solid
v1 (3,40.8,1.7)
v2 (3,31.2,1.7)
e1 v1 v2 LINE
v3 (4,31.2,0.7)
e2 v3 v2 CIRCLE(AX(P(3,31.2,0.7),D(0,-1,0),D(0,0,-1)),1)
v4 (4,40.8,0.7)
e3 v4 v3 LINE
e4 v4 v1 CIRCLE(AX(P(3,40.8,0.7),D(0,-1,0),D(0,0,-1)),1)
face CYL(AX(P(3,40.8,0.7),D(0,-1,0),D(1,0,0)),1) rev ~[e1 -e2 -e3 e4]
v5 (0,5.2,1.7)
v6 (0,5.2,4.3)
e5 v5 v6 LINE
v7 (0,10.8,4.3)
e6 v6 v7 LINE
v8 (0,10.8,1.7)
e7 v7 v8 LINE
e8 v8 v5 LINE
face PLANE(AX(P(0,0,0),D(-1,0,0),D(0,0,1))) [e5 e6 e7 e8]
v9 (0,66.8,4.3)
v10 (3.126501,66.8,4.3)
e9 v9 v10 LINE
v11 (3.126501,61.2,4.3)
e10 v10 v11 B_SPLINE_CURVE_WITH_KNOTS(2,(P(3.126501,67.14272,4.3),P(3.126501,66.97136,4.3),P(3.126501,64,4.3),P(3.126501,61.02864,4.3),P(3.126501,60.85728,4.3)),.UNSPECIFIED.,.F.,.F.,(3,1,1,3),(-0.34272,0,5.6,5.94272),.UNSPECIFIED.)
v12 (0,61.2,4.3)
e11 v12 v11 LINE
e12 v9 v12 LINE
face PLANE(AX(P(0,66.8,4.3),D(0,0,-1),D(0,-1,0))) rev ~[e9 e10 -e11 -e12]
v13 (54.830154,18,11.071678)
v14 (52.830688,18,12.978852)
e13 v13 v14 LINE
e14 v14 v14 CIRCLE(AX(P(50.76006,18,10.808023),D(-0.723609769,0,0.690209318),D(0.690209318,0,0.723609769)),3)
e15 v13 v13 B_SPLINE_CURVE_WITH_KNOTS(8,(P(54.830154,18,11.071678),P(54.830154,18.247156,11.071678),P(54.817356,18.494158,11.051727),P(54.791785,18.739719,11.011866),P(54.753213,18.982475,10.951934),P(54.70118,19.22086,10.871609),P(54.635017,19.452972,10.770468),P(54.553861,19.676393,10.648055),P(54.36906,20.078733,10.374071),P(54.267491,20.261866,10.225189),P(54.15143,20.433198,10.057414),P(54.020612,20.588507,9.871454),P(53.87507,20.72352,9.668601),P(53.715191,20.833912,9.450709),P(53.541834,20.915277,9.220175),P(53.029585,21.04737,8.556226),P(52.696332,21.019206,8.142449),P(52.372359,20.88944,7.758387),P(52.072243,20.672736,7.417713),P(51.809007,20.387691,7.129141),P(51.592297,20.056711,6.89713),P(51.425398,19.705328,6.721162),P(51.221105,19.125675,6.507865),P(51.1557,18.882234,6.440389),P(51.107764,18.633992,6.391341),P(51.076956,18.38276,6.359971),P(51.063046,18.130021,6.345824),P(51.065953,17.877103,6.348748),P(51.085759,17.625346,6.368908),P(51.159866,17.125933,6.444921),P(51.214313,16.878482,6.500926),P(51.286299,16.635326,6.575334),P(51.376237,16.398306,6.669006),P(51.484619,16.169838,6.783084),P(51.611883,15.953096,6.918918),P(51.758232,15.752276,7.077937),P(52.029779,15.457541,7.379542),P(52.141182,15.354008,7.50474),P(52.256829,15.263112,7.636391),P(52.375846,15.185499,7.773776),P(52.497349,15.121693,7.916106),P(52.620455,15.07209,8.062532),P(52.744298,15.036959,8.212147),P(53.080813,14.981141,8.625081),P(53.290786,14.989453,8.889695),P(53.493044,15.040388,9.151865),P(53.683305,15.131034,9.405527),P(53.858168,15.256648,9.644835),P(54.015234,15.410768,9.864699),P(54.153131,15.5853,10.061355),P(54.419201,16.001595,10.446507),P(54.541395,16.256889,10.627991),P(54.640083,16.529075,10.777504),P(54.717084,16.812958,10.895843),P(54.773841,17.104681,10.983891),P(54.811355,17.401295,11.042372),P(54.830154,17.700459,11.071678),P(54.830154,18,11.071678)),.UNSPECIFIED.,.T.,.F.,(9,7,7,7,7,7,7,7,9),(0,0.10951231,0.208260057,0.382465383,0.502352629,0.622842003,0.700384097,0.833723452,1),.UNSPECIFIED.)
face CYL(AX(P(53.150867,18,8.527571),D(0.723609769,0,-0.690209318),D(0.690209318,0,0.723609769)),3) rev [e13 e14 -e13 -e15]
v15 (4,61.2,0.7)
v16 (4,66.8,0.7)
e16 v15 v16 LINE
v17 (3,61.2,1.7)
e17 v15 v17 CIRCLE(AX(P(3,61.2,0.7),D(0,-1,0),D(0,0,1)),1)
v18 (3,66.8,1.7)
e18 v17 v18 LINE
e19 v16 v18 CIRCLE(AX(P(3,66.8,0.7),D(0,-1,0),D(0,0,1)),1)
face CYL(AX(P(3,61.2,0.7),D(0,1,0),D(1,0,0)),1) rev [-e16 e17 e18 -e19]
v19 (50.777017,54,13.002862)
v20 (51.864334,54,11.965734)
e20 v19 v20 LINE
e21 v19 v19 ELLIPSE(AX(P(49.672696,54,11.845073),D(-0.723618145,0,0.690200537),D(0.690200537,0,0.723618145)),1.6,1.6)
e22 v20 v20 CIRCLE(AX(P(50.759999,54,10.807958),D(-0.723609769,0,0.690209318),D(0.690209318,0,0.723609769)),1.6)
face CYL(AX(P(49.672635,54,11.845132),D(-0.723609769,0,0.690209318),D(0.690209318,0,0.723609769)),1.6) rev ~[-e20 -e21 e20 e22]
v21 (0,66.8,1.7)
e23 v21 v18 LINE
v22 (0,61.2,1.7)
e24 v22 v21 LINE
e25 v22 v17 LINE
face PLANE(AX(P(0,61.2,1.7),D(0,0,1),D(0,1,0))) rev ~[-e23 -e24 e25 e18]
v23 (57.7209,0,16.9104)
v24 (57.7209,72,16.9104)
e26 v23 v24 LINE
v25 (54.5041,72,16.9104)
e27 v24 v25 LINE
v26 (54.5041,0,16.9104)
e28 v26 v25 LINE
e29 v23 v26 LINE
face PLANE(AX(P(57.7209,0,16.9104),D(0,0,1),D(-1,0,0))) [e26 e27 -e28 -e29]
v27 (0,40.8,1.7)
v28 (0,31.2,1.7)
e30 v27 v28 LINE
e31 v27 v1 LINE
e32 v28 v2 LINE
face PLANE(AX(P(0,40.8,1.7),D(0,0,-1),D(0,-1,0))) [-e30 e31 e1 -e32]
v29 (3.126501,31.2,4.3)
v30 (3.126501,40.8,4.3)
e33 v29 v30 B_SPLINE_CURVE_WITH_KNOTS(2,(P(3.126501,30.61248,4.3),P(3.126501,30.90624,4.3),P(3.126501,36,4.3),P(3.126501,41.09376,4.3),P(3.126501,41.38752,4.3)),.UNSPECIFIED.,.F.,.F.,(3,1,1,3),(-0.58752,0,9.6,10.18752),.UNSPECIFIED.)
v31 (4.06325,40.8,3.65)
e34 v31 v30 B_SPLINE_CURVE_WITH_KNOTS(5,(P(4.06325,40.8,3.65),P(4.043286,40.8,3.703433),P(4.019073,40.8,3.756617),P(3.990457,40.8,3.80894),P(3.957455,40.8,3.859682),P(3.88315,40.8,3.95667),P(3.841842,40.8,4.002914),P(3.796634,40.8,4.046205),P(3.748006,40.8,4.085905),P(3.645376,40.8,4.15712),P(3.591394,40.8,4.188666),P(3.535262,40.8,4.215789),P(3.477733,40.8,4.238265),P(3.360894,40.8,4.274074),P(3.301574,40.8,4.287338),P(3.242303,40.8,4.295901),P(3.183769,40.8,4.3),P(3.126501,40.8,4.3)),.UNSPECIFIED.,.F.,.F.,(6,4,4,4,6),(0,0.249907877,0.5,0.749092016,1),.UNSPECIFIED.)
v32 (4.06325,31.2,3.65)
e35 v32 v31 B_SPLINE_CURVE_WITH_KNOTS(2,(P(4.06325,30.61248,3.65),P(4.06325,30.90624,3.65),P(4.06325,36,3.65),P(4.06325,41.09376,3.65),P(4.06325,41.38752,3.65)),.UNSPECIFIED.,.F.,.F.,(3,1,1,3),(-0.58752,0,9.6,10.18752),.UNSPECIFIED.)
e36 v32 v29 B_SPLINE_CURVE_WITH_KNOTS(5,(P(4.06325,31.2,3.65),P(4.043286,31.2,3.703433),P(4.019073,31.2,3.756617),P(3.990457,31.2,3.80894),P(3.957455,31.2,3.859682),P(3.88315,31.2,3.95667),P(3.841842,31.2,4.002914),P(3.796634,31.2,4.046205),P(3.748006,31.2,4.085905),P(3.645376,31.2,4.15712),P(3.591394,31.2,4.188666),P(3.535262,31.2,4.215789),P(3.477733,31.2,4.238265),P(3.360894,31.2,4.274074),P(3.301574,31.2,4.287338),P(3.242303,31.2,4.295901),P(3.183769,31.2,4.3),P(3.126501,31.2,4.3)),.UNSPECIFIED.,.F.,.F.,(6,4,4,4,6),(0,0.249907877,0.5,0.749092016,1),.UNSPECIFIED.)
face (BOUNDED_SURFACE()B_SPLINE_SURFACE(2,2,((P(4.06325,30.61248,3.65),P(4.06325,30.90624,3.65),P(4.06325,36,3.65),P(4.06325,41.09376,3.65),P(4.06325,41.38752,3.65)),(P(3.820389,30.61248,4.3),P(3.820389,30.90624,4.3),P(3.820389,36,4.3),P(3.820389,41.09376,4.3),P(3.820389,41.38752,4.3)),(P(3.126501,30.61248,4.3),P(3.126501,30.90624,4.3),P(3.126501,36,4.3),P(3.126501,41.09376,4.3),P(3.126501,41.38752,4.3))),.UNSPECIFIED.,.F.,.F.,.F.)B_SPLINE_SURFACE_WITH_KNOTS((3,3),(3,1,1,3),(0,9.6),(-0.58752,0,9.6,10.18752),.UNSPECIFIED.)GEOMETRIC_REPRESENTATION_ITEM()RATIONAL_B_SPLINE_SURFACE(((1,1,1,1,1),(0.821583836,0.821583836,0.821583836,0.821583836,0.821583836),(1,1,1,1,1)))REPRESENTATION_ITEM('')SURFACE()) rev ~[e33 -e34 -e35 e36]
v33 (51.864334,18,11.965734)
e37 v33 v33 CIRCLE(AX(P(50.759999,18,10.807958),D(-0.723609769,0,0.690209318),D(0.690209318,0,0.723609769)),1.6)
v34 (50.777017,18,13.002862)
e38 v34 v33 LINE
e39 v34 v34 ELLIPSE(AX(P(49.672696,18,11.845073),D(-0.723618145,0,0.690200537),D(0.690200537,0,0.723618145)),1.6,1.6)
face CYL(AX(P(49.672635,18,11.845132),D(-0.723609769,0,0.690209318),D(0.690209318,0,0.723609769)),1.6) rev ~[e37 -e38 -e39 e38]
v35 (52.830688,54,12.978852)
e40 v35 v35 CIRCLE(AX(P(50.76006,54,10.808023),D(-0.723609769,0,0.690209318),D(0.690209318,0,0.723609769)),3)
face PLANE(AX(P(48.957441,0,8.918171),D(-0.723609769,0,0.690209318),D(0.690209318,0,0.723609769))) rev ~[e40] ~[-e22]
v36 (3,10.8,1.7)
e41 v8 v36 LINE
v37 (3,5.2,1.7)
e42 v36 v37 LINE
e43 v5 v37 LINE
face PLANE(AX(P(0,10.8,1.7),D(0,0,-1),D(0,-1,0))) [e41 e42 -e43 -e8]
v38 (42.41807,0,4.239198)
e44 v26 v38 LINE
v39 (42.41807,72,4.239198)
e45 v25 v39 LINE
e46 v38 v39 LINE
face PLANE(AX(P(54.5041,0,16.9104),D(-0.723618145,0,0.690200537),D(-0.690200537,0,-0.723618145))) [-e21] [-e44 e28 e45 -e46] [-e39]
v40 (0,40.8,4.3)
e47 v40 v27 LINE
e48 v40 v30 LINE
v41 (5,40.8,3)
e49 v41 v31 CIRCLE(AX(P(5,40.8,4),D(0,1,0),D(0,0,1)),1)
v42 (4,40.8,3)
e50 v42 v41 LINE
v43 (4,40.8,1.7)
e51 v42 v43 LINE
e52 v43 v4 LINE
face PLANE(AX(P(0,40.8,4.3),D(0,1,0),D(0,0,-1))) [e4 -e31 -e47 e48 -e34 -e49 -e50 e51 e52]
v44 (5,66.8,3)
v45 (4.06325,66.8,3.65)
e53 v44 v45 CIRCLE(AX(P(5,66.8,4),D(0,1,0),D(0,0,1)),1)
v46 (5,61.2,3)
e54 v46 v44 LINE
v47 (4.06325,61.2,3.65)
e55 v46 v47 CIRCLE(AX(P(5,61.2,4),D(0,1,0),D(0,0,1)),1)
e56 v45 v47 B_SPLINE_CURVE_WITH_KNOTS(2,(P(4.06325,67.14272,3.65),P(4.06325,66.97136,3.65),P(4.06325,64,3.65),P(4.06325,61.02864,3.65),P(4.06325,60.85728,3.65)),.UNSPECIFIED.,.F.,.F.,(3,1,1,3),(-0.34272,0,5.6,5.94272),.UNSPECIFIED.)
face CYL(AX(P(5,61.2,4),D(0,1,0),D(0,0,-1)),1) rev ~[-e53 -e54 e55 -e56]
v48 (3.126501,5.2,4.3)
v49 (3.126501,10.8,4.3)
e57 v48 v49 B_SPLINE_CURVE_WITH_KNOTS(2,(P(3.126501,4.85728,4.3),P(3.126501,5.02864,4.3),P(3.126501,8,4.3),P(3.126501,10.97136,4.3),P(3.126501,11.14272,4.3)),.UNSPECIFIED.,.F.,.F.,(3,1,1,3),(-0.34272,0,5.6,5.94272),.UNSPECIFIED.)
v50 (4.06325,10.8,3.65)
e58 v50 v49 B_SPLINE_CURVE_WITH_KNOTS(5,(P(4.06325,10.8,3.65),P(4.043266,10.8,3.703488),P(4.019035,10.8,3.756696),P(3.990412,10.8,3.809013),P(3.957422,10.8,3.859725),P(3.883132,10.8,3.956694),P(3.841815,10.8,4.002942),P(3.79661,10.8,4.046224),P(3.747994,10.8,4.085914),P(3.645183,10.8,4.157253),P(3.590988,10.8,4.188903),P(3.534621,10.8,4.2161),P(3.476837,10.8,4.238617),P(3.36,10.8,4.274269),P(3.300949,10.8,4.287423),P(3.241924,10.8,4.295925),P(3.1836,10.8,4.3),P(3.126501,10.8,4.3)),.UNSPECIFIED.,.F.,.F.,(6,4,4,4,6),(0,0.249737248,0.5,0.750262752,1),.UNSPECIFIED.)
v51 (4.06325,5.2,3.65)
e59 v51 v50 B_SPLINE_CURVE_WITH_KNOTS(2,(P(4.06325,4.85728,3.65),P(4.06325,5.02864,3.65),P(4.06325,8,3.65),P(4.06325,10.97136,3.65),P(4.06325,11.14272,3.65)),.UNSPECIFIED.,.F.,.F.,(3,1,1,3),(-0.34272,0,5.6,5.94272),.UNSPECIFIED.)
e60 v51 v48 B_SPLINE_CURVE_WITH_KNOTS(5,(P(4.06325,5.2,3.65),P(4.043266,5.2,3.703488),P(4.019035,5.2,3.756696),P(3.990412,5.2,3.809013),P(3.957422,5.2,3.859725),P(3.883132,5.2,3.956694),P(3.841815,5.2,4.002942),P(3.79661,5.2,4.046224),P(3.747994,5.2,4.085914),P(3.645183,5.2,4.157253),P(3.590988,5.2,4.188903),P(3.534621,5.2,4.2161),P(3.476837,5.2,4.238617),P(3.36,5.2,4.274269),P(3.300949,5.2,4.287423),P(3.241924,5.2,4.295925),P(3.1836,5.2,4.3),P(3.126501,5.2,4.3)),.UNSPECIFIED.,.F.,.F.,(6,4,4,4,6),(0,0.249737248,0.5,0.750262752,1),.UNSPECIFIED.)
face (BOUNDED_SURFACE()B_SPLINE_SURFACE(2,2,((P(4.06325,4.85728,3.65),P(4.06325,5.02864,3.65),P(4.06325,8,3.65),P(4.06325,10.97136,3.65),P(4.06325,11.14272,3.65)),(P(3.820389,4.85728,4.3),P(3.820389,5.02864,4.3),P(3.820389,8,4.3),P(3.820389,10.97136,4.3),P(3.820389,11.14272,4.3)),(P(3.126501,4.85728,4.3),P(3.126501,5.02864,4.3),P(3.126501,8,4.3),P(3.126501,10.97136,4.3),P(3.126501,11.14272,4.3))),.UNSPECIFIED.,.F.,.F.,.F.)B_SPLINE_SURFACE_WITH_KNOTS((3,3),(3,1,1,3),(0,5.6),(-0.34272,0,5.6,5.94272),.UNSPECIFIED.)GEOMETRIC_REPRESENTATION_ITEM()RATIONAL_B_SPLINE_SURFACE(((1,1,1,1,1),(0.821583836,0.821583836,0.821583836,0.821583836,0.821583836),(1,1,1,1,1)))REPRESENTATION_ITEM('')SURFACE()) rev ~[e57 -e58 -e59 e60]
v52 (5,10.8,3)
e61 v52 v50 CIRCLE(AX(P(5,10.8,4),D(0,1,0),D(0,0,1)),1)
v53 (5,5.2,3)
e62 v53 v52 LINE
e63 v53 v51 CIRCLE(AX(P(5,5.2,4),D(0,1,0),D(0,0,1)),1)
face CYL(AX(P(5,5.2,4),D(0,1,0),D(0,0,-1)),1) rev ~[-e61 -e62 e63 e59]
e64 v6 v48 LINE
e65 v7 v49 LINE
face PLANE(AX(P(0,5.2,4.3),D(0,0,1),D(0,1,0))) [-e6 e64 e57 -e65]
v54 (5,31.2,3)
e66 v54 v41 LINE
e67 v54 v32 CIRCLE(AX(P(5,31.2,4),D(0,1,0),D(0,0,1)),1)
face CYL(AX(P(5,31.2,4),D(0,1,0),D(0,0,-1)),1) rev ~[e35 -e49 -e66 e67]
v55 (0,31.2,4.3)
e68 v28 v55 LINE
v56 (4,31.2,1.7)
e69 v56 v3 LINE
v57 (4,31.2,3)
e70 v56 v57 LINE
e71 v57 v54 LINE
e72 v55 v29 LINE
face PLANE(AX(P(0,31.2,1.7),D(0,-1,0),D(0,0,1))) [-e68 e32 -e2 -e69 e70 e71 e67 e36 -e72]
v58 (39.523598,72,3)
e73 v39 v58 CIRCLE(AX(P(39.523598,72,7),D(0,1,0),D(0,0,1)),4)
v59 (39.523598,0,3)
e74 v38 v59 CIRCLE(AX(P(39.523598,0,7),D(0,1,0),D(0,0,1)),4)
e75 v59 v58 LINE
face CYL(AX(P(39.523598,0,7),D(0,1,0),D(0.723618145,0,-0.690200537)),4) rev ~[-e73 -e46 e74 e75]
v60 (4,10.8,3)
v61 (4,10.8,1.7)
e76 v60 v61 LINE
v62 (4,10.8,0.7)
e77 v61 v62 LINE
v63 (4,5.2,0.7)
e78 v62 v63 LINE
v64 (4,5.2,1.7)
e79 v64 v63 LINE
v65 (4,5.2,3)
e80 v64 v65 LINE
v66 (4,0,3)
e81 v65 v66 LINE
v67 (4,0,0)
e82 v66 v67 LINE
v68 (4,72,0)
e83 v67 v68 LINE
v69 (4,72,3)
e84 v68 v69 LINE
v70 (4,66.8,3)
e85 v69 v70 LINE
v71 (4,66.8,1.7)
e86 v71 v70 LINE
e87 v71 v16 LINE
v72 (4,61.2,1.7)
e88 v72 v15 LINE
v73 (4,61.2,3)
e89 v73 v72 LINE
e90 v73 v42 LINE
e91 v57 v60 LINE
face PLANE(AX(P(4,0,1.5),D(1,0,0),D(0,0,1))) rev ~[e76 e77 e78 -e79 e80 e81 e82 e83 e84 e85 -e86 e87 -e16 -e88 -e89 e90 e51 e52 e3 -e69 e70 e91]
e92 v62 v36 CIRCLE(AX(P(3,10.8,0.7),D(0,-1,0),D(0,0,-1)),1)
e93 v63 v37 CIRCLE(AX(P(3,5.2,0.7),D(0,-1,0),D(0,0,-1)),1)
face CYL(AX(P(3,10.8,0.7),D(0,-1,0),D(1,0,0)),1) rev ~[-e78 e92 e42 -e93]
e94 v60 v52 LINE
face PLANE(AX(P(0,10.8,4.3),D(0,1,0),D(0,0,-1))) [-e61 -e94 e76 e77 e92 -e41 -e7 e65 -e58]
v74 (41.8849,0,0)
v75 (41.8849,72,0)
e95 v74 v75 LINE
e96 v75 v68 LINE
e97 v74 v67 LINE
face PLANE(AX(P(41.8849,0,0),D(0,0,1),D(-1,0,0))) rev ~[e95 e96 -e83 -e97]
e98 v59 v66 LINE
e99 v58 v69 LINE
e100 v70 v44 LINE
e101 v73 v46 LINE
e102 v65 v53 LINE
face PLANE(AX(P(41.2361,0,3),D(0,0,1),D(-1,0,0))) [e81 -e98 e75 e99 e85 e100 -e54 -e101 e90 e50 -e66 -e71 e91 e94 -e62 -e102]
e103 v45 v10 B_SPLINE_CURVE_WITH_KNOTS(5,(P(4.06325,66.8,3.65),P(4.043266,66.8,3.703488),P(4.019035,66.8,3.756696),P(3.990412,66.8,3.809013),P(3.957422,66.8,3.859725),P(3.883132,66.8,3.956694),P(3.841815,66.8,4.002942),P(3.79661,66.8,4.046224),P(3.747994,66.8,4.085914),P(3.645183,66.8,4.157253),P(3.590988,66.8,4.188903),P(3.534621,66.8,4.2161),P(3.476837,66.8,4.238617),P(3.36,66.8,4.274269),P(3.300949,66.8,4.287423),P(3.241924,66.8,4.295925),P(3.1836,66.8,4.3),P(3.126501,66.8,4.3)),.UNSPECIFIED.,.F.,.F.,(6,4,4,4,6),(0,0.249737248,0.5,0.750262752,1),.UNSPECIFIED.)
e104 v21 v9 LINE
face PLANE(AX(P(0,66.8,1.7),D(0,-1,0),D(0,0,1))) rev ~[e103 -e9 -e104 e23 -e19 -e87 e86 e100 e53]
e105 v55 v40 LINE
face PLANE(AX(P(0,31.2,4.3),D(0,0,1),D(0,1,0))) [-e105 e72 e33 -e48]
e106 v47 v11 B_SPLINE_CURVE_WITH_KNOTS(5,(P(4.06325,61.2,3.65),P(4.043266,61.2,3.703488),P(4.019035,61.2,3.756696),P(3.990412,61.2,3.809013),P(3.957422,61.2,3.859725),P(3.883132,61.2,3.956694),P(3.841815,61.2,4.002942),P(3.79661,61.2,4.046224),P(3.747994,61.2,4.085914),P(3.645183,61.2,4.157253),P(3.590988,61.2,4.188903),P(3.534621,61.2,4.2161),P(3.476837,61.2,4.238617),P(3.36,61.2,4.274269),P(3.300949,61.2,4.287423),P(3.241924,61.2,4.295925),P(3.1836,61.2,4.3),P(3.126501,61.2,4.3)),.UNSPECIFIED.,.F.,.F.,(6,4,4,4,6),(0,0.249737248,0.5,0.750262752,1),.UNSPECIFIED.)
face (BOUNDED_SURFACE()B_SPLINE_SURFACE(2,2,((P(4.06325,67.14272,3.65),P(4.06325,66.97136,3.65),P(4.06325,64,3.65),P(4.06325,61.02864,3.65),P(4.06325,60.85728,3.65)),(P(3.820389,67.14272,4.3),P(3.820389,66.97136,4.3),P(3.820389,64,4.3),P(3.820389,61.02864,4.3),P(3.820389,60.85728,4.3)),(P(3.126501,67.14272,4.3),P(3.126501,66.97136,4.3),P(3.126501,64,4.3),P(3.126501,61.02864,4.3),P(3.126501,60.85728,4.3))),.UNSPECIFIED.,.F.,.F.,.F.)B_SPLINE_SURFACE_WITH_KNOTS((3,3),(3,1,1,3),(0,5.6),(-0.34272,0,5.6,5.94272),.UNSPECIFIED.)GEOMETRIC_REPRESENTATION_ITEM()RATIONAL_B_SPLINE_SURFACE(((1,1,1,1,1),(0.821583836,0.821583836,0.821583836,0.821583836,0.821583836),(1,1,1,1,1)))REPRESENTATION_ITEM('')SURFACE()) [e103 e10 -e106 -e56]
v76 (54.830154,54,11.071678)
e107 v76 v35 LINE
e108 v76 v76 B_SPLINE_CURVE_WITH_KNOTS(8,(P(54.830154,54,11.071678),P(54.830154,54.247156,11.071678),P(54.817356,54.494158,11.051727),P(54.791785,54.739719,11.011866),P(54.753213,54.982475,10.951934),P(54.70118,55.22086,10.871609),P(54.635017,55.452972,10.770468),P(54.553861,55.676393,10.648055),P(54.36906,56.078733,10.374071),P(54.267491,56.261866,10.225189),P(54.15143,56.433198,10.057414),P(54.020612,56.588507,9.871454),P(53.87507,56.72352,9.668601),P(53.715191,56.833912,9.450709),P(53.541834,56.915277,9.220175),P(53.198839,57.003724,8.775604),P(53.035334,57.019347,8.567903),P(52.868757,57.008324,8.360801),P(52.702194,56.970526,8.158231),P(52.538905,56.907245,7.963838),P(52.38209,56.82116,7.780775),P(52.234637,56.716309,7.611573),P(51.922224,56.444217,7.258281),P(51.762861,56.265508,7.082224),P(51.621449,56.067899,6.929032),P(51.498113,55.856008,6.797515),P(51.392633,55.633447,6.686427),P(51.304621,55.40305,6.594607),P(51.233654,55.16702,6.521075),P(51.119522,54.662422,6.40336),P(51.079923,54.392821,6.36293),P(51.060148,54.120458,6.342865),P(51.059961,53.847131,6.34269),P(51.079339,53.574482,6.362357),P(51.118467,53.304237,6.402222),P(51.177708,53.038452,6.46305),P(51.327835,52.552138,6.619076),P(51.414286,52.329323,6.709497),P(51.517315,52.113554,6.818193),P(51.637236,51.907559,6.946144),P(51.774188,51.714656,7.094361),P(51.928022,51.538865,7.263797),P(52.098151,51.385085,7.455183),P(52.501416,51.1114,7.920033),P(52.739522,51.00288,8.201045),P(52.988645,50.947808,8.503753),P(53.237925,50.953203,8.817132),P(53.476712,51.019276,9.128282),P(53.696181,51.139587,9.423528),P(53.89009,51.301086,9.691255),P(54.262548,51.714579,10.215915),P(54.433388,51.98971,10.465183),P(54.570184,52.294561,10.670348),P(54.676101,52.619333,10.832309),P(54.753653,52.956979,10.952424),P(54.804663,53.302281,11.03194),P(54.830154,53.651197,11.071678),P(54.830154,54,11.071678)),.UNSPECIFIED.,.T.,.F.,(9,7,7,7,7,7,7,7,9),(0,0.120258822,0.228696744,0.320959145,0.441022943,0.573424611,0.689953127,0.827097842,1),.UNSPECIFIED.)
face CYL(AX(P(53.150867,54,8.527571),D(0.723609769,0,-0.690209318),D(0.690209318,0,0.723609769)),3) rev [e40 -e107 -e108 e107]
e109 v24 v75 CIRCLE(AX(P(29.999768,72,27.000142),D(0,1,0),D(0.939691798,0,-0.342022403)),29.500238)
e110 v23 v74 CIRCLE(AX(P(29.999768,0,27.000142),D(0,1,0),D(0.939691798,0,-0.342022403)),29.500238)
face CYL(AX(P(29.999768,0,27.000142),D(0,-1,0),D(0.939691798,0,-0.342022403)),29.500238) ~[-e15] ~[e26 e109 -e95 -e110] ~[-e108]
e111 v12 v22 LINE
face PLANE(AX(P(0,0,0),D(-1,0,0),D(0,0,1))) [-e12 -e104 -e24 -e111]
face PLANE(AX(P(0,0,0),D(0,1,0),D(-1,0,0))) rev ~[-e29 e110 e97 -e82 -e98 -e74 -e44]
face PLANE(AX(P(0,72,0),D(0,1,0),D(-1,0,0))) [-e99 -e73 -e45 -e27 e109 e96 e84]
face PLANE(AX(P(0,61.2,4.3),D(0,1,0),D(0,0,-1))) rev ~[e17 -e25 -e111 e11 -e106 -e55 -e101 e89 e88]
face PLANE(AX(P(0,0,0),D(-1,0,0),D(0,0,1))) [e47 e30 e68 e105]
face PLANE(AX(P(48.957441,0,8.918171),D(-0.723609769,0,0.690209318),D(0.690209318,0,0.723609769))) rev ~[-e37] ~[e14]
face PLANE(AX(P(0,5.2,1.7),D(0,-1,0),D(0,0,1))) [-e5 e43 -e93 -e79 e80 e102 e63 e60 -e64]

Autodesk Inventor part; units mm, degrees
ref_plane "YZ Plane" through (0, 0, 0) normal (1, 0, 0) x (0, 1, 0)
ref_plane "XZ Plane" through (0, 0, 0) normal (0, 1, 0) x (-1, 0, 0)
sketch "Szkic1" plane through (0, 0, 0) normal (0, 1, 0) x (-1, 0, 0)
  arc A0 (-57.7209, 16.9104) -> (-41.8849, 0) centre (-30, 27) ccw
  line L0 (-41.8849, 0) -> (-4, 0)
  line L1 (-4, 0) -> (-4, 3)
  line L2 (-57.7209, 16.9104) -> (-54.5041, 16.9104)
  line L3 (-54.5041, 16.9104) -> (-41.2361, 3)
  line L4 (-41.2361, 3) -> (-4, 3)
  line L5 (-4, 1.5) -> (-4, 3)
  dimension "d3" = 27
  dimension "d4" = 29.5
  dimension "d8" = 37.8849
  dimension "d9" = 37.2361
  dimension "d10" = 19.2234
extrude "Wyciągnięcie proste1" add sketch "Szkic1" along normal blind 72
sketch "Szkic3" plane through (4, 0, 0) normal (-1, 0, 0) x (0, 0, 1)
  line L0 (0, 0) -> (3, 0) projected
  line L1 (3, 0) -> (3, 72) projected
  line L2 (0, 72) -> (3, 72) projected
  line L3 (0, 0) -> (0, 72) projected
  line L4 (1.5, 5) -> (4.5, 5)
  line L5 (4.5, 5) -> (4.5, 11)
  line L6 (4.5, 11) -> (1.5, 11)
  line L7 (1.5, 11) -> (1.5, 5)
  line L8 (0, 0) -> (0, 72) projected
  line L9 (0, 36) -> (-11, 36)
  line L10 (1.5, 31) -> (4.5, 31)
  line L11 (4.5, 31) -> (4.5, 41)
  line L12 (4.5, 41) -> (1.5, 41)
  line L13 (1.5, 41) -> (1.5, 31)
  line L14 (1.5, 67) -> (4.5, 67)
  line L15 (4.5, 67) -> (4.5, 61)
  line L16 (4.5, 61) -> (1.5, 61)
  line L17 (1.5, 61) -> (1.5, 67)
  point P0 (1.5, 36)
  point P1 (0, 36)
  dimension "d15" = 3
  dimension "d16" = 6
  dimension "d17" = 4.5
  dimension "d18" = 5
  dimension "d19" = 3
  dimension "d20" = 10
  dimension "d21" = 4.5
extrude "Wyciągnięcie proste2" add sketch "Szkic3" along normal blind 4 contours L4 L7 L6 L1 | L1 L6 L5 L4 | L10 L13 L12 L1 | L1 L12 L11 L10 | L14 L15 L16 L1 | L1 L16 L17 L14
sketch "Szkic4" plane through (54.5041, 0, 16.9104) normal (-0.7236, 0, 0.6902) x (0.6902, 0, 0.7236)
  line L0 (-19.2234, 0) -> (0, 0) projected
  line L1 (0, 0) -> (0, 72) projected
  line L2 (-19.2234, 72) -> (0, 72) projected
  line L3 (-19.2234, 0) -> (-19.2234, 72) projected
  line L4 (-19.2234, 36) -> (0, 36)
  circle A0 centre (-7, 18) radius 1.6
  circle A1 centre (-7, 54) radius 1.6
  point P0 (-49.8554, 0)
  point P1 (-9.6117, 36)
  dimension "d26" = 3.2
  dimension "d27" = 36
  dimension "d34" = 7
extrude "Wyciągnięcie proste3" cut sketch "Szkic4" against normal through all contours A0 | A1
ref_plane "Płaszczyzna konstrukcyjna1" through (51.3468, 0, 6.6391) normal (-0.7236, 0, 0.6902) x (0.6902, 0, 0.7236)
sketch "Szkic5" plane through (51.3468, 0, 6.6391) normal (-0.7236, 0, 0.6902) x (0.6902, 0, 0.7236)
  circle A0 centre (2.6117, 54) radius 1.6 projected
  circle A1 centre (2.6117, 18) radius 1.6 projected
  line L0 (-9.6117, 0) -> (9.6117, 0) projected
  line L1 (9.6117, 0) -> (9.6117, 72) projected
  line L2 (-9.6117, 72) -> (9.6117, 72) projected
  line L3 (-9.6117, 0) -> (-9.6117, 72) projected
  circle A2 centre (2.6117, 54) radius 1.6 projected
  circle A3 centre (2.6117, 54) radius 3
  circle A4 centre (2.6117, 18) radius 1.6 projected
  circle A5 centre (2.6117, 18) radius 3
  point P0 (-40.2437, 0)
  dimension "d30" = 6
  dimension "d31" = 6
extrude "Wyciągnięcie proste4" cut sketch "Szkic5" along normal blind 3.3 contours A0 | A1 | A3 | A5
fillet "Zaokrąglenie3" radius 4 1 edges at (41.2361, 36, 3)
sketch "Szkic6" plane through (0, 0, 0) normal (-1, 0, 0) x (0, 0, 1)
  line L0 (4.5, 11) -> (1.5, 11) projected
  line L1 (1.5, 11) -> (1.5, 5) projected
  line L2 (1.5, 5) -> (4.5, 5) projected
  line L3 (4.5, 5) -> (4.5, 11) projected
  line L4 (4.5, 41) -> (1.5, 41) projected
  line L5 (1.5, 41) -> (1.5, 31) projected
  line L6 (1.5, 31) -> (4.5, 31) projected
  line L7 (4.5, 31) -> (4.5, 41) projected
  line L8 (4.5, 67) -> (1.5, 67) projected
  line L9 (1.5, 67) -> (1.5, 61) projected
  line L10 (1.5, 61) -> (4.5, 61) projected
  line L11 (4.5, 61) -> (4.5, 67) projected
  line L12 (1.7, 61.2) -> (1.7, 66.8)
  line L13 (1.7, 66.8) -> (4.3, 66.8)
  line L14 (4.3, 66.8) -> (4.3, 61.2)
  line L15 (4.3, 61.2) -> (1.7, 61.2)
  line L16 (4.3, 40.8) -> (1.7, 40.8)
  line L17 (1.7, 40.8) -> (1.7, 31.2)
  line L18 (1.7, 31.2) -> (4.3, 31.2)
  line L19 (4.3, 31.2) -> (4.3, 40.8)
  line L20 (4.3, 10.8) -> (1.7, 10.8)
  line L21 (1.7, 10.8) -> (1.7, 5.2)
  line L22 (1.7, 5.2) -> (4.3, 5.2)
  line L23 (4.3, 5.2) -> (4.3, 10.8)
  point P0 (0, 0)
  dimension "d36" = 0.2
  dimension "d37" = 0.2
  dimension "d38" = 0.2
extrude "Wyciągnięcie proste5" cut sketch "Szkic6" against normal up to surface (4 mm away)
fillet "Zaokrąglenie4" radius 1 9 edges at (4, 8, 1.7) (4, 36, 1.7) (4, 64, 1.7) (4, 36, 3) (4, 8, 3) (4, 64, 3) (4, 64, 4.3) (4, 36, 4.3) (4, 8, 4.3)
properties part number "pokrywka_baterii"
